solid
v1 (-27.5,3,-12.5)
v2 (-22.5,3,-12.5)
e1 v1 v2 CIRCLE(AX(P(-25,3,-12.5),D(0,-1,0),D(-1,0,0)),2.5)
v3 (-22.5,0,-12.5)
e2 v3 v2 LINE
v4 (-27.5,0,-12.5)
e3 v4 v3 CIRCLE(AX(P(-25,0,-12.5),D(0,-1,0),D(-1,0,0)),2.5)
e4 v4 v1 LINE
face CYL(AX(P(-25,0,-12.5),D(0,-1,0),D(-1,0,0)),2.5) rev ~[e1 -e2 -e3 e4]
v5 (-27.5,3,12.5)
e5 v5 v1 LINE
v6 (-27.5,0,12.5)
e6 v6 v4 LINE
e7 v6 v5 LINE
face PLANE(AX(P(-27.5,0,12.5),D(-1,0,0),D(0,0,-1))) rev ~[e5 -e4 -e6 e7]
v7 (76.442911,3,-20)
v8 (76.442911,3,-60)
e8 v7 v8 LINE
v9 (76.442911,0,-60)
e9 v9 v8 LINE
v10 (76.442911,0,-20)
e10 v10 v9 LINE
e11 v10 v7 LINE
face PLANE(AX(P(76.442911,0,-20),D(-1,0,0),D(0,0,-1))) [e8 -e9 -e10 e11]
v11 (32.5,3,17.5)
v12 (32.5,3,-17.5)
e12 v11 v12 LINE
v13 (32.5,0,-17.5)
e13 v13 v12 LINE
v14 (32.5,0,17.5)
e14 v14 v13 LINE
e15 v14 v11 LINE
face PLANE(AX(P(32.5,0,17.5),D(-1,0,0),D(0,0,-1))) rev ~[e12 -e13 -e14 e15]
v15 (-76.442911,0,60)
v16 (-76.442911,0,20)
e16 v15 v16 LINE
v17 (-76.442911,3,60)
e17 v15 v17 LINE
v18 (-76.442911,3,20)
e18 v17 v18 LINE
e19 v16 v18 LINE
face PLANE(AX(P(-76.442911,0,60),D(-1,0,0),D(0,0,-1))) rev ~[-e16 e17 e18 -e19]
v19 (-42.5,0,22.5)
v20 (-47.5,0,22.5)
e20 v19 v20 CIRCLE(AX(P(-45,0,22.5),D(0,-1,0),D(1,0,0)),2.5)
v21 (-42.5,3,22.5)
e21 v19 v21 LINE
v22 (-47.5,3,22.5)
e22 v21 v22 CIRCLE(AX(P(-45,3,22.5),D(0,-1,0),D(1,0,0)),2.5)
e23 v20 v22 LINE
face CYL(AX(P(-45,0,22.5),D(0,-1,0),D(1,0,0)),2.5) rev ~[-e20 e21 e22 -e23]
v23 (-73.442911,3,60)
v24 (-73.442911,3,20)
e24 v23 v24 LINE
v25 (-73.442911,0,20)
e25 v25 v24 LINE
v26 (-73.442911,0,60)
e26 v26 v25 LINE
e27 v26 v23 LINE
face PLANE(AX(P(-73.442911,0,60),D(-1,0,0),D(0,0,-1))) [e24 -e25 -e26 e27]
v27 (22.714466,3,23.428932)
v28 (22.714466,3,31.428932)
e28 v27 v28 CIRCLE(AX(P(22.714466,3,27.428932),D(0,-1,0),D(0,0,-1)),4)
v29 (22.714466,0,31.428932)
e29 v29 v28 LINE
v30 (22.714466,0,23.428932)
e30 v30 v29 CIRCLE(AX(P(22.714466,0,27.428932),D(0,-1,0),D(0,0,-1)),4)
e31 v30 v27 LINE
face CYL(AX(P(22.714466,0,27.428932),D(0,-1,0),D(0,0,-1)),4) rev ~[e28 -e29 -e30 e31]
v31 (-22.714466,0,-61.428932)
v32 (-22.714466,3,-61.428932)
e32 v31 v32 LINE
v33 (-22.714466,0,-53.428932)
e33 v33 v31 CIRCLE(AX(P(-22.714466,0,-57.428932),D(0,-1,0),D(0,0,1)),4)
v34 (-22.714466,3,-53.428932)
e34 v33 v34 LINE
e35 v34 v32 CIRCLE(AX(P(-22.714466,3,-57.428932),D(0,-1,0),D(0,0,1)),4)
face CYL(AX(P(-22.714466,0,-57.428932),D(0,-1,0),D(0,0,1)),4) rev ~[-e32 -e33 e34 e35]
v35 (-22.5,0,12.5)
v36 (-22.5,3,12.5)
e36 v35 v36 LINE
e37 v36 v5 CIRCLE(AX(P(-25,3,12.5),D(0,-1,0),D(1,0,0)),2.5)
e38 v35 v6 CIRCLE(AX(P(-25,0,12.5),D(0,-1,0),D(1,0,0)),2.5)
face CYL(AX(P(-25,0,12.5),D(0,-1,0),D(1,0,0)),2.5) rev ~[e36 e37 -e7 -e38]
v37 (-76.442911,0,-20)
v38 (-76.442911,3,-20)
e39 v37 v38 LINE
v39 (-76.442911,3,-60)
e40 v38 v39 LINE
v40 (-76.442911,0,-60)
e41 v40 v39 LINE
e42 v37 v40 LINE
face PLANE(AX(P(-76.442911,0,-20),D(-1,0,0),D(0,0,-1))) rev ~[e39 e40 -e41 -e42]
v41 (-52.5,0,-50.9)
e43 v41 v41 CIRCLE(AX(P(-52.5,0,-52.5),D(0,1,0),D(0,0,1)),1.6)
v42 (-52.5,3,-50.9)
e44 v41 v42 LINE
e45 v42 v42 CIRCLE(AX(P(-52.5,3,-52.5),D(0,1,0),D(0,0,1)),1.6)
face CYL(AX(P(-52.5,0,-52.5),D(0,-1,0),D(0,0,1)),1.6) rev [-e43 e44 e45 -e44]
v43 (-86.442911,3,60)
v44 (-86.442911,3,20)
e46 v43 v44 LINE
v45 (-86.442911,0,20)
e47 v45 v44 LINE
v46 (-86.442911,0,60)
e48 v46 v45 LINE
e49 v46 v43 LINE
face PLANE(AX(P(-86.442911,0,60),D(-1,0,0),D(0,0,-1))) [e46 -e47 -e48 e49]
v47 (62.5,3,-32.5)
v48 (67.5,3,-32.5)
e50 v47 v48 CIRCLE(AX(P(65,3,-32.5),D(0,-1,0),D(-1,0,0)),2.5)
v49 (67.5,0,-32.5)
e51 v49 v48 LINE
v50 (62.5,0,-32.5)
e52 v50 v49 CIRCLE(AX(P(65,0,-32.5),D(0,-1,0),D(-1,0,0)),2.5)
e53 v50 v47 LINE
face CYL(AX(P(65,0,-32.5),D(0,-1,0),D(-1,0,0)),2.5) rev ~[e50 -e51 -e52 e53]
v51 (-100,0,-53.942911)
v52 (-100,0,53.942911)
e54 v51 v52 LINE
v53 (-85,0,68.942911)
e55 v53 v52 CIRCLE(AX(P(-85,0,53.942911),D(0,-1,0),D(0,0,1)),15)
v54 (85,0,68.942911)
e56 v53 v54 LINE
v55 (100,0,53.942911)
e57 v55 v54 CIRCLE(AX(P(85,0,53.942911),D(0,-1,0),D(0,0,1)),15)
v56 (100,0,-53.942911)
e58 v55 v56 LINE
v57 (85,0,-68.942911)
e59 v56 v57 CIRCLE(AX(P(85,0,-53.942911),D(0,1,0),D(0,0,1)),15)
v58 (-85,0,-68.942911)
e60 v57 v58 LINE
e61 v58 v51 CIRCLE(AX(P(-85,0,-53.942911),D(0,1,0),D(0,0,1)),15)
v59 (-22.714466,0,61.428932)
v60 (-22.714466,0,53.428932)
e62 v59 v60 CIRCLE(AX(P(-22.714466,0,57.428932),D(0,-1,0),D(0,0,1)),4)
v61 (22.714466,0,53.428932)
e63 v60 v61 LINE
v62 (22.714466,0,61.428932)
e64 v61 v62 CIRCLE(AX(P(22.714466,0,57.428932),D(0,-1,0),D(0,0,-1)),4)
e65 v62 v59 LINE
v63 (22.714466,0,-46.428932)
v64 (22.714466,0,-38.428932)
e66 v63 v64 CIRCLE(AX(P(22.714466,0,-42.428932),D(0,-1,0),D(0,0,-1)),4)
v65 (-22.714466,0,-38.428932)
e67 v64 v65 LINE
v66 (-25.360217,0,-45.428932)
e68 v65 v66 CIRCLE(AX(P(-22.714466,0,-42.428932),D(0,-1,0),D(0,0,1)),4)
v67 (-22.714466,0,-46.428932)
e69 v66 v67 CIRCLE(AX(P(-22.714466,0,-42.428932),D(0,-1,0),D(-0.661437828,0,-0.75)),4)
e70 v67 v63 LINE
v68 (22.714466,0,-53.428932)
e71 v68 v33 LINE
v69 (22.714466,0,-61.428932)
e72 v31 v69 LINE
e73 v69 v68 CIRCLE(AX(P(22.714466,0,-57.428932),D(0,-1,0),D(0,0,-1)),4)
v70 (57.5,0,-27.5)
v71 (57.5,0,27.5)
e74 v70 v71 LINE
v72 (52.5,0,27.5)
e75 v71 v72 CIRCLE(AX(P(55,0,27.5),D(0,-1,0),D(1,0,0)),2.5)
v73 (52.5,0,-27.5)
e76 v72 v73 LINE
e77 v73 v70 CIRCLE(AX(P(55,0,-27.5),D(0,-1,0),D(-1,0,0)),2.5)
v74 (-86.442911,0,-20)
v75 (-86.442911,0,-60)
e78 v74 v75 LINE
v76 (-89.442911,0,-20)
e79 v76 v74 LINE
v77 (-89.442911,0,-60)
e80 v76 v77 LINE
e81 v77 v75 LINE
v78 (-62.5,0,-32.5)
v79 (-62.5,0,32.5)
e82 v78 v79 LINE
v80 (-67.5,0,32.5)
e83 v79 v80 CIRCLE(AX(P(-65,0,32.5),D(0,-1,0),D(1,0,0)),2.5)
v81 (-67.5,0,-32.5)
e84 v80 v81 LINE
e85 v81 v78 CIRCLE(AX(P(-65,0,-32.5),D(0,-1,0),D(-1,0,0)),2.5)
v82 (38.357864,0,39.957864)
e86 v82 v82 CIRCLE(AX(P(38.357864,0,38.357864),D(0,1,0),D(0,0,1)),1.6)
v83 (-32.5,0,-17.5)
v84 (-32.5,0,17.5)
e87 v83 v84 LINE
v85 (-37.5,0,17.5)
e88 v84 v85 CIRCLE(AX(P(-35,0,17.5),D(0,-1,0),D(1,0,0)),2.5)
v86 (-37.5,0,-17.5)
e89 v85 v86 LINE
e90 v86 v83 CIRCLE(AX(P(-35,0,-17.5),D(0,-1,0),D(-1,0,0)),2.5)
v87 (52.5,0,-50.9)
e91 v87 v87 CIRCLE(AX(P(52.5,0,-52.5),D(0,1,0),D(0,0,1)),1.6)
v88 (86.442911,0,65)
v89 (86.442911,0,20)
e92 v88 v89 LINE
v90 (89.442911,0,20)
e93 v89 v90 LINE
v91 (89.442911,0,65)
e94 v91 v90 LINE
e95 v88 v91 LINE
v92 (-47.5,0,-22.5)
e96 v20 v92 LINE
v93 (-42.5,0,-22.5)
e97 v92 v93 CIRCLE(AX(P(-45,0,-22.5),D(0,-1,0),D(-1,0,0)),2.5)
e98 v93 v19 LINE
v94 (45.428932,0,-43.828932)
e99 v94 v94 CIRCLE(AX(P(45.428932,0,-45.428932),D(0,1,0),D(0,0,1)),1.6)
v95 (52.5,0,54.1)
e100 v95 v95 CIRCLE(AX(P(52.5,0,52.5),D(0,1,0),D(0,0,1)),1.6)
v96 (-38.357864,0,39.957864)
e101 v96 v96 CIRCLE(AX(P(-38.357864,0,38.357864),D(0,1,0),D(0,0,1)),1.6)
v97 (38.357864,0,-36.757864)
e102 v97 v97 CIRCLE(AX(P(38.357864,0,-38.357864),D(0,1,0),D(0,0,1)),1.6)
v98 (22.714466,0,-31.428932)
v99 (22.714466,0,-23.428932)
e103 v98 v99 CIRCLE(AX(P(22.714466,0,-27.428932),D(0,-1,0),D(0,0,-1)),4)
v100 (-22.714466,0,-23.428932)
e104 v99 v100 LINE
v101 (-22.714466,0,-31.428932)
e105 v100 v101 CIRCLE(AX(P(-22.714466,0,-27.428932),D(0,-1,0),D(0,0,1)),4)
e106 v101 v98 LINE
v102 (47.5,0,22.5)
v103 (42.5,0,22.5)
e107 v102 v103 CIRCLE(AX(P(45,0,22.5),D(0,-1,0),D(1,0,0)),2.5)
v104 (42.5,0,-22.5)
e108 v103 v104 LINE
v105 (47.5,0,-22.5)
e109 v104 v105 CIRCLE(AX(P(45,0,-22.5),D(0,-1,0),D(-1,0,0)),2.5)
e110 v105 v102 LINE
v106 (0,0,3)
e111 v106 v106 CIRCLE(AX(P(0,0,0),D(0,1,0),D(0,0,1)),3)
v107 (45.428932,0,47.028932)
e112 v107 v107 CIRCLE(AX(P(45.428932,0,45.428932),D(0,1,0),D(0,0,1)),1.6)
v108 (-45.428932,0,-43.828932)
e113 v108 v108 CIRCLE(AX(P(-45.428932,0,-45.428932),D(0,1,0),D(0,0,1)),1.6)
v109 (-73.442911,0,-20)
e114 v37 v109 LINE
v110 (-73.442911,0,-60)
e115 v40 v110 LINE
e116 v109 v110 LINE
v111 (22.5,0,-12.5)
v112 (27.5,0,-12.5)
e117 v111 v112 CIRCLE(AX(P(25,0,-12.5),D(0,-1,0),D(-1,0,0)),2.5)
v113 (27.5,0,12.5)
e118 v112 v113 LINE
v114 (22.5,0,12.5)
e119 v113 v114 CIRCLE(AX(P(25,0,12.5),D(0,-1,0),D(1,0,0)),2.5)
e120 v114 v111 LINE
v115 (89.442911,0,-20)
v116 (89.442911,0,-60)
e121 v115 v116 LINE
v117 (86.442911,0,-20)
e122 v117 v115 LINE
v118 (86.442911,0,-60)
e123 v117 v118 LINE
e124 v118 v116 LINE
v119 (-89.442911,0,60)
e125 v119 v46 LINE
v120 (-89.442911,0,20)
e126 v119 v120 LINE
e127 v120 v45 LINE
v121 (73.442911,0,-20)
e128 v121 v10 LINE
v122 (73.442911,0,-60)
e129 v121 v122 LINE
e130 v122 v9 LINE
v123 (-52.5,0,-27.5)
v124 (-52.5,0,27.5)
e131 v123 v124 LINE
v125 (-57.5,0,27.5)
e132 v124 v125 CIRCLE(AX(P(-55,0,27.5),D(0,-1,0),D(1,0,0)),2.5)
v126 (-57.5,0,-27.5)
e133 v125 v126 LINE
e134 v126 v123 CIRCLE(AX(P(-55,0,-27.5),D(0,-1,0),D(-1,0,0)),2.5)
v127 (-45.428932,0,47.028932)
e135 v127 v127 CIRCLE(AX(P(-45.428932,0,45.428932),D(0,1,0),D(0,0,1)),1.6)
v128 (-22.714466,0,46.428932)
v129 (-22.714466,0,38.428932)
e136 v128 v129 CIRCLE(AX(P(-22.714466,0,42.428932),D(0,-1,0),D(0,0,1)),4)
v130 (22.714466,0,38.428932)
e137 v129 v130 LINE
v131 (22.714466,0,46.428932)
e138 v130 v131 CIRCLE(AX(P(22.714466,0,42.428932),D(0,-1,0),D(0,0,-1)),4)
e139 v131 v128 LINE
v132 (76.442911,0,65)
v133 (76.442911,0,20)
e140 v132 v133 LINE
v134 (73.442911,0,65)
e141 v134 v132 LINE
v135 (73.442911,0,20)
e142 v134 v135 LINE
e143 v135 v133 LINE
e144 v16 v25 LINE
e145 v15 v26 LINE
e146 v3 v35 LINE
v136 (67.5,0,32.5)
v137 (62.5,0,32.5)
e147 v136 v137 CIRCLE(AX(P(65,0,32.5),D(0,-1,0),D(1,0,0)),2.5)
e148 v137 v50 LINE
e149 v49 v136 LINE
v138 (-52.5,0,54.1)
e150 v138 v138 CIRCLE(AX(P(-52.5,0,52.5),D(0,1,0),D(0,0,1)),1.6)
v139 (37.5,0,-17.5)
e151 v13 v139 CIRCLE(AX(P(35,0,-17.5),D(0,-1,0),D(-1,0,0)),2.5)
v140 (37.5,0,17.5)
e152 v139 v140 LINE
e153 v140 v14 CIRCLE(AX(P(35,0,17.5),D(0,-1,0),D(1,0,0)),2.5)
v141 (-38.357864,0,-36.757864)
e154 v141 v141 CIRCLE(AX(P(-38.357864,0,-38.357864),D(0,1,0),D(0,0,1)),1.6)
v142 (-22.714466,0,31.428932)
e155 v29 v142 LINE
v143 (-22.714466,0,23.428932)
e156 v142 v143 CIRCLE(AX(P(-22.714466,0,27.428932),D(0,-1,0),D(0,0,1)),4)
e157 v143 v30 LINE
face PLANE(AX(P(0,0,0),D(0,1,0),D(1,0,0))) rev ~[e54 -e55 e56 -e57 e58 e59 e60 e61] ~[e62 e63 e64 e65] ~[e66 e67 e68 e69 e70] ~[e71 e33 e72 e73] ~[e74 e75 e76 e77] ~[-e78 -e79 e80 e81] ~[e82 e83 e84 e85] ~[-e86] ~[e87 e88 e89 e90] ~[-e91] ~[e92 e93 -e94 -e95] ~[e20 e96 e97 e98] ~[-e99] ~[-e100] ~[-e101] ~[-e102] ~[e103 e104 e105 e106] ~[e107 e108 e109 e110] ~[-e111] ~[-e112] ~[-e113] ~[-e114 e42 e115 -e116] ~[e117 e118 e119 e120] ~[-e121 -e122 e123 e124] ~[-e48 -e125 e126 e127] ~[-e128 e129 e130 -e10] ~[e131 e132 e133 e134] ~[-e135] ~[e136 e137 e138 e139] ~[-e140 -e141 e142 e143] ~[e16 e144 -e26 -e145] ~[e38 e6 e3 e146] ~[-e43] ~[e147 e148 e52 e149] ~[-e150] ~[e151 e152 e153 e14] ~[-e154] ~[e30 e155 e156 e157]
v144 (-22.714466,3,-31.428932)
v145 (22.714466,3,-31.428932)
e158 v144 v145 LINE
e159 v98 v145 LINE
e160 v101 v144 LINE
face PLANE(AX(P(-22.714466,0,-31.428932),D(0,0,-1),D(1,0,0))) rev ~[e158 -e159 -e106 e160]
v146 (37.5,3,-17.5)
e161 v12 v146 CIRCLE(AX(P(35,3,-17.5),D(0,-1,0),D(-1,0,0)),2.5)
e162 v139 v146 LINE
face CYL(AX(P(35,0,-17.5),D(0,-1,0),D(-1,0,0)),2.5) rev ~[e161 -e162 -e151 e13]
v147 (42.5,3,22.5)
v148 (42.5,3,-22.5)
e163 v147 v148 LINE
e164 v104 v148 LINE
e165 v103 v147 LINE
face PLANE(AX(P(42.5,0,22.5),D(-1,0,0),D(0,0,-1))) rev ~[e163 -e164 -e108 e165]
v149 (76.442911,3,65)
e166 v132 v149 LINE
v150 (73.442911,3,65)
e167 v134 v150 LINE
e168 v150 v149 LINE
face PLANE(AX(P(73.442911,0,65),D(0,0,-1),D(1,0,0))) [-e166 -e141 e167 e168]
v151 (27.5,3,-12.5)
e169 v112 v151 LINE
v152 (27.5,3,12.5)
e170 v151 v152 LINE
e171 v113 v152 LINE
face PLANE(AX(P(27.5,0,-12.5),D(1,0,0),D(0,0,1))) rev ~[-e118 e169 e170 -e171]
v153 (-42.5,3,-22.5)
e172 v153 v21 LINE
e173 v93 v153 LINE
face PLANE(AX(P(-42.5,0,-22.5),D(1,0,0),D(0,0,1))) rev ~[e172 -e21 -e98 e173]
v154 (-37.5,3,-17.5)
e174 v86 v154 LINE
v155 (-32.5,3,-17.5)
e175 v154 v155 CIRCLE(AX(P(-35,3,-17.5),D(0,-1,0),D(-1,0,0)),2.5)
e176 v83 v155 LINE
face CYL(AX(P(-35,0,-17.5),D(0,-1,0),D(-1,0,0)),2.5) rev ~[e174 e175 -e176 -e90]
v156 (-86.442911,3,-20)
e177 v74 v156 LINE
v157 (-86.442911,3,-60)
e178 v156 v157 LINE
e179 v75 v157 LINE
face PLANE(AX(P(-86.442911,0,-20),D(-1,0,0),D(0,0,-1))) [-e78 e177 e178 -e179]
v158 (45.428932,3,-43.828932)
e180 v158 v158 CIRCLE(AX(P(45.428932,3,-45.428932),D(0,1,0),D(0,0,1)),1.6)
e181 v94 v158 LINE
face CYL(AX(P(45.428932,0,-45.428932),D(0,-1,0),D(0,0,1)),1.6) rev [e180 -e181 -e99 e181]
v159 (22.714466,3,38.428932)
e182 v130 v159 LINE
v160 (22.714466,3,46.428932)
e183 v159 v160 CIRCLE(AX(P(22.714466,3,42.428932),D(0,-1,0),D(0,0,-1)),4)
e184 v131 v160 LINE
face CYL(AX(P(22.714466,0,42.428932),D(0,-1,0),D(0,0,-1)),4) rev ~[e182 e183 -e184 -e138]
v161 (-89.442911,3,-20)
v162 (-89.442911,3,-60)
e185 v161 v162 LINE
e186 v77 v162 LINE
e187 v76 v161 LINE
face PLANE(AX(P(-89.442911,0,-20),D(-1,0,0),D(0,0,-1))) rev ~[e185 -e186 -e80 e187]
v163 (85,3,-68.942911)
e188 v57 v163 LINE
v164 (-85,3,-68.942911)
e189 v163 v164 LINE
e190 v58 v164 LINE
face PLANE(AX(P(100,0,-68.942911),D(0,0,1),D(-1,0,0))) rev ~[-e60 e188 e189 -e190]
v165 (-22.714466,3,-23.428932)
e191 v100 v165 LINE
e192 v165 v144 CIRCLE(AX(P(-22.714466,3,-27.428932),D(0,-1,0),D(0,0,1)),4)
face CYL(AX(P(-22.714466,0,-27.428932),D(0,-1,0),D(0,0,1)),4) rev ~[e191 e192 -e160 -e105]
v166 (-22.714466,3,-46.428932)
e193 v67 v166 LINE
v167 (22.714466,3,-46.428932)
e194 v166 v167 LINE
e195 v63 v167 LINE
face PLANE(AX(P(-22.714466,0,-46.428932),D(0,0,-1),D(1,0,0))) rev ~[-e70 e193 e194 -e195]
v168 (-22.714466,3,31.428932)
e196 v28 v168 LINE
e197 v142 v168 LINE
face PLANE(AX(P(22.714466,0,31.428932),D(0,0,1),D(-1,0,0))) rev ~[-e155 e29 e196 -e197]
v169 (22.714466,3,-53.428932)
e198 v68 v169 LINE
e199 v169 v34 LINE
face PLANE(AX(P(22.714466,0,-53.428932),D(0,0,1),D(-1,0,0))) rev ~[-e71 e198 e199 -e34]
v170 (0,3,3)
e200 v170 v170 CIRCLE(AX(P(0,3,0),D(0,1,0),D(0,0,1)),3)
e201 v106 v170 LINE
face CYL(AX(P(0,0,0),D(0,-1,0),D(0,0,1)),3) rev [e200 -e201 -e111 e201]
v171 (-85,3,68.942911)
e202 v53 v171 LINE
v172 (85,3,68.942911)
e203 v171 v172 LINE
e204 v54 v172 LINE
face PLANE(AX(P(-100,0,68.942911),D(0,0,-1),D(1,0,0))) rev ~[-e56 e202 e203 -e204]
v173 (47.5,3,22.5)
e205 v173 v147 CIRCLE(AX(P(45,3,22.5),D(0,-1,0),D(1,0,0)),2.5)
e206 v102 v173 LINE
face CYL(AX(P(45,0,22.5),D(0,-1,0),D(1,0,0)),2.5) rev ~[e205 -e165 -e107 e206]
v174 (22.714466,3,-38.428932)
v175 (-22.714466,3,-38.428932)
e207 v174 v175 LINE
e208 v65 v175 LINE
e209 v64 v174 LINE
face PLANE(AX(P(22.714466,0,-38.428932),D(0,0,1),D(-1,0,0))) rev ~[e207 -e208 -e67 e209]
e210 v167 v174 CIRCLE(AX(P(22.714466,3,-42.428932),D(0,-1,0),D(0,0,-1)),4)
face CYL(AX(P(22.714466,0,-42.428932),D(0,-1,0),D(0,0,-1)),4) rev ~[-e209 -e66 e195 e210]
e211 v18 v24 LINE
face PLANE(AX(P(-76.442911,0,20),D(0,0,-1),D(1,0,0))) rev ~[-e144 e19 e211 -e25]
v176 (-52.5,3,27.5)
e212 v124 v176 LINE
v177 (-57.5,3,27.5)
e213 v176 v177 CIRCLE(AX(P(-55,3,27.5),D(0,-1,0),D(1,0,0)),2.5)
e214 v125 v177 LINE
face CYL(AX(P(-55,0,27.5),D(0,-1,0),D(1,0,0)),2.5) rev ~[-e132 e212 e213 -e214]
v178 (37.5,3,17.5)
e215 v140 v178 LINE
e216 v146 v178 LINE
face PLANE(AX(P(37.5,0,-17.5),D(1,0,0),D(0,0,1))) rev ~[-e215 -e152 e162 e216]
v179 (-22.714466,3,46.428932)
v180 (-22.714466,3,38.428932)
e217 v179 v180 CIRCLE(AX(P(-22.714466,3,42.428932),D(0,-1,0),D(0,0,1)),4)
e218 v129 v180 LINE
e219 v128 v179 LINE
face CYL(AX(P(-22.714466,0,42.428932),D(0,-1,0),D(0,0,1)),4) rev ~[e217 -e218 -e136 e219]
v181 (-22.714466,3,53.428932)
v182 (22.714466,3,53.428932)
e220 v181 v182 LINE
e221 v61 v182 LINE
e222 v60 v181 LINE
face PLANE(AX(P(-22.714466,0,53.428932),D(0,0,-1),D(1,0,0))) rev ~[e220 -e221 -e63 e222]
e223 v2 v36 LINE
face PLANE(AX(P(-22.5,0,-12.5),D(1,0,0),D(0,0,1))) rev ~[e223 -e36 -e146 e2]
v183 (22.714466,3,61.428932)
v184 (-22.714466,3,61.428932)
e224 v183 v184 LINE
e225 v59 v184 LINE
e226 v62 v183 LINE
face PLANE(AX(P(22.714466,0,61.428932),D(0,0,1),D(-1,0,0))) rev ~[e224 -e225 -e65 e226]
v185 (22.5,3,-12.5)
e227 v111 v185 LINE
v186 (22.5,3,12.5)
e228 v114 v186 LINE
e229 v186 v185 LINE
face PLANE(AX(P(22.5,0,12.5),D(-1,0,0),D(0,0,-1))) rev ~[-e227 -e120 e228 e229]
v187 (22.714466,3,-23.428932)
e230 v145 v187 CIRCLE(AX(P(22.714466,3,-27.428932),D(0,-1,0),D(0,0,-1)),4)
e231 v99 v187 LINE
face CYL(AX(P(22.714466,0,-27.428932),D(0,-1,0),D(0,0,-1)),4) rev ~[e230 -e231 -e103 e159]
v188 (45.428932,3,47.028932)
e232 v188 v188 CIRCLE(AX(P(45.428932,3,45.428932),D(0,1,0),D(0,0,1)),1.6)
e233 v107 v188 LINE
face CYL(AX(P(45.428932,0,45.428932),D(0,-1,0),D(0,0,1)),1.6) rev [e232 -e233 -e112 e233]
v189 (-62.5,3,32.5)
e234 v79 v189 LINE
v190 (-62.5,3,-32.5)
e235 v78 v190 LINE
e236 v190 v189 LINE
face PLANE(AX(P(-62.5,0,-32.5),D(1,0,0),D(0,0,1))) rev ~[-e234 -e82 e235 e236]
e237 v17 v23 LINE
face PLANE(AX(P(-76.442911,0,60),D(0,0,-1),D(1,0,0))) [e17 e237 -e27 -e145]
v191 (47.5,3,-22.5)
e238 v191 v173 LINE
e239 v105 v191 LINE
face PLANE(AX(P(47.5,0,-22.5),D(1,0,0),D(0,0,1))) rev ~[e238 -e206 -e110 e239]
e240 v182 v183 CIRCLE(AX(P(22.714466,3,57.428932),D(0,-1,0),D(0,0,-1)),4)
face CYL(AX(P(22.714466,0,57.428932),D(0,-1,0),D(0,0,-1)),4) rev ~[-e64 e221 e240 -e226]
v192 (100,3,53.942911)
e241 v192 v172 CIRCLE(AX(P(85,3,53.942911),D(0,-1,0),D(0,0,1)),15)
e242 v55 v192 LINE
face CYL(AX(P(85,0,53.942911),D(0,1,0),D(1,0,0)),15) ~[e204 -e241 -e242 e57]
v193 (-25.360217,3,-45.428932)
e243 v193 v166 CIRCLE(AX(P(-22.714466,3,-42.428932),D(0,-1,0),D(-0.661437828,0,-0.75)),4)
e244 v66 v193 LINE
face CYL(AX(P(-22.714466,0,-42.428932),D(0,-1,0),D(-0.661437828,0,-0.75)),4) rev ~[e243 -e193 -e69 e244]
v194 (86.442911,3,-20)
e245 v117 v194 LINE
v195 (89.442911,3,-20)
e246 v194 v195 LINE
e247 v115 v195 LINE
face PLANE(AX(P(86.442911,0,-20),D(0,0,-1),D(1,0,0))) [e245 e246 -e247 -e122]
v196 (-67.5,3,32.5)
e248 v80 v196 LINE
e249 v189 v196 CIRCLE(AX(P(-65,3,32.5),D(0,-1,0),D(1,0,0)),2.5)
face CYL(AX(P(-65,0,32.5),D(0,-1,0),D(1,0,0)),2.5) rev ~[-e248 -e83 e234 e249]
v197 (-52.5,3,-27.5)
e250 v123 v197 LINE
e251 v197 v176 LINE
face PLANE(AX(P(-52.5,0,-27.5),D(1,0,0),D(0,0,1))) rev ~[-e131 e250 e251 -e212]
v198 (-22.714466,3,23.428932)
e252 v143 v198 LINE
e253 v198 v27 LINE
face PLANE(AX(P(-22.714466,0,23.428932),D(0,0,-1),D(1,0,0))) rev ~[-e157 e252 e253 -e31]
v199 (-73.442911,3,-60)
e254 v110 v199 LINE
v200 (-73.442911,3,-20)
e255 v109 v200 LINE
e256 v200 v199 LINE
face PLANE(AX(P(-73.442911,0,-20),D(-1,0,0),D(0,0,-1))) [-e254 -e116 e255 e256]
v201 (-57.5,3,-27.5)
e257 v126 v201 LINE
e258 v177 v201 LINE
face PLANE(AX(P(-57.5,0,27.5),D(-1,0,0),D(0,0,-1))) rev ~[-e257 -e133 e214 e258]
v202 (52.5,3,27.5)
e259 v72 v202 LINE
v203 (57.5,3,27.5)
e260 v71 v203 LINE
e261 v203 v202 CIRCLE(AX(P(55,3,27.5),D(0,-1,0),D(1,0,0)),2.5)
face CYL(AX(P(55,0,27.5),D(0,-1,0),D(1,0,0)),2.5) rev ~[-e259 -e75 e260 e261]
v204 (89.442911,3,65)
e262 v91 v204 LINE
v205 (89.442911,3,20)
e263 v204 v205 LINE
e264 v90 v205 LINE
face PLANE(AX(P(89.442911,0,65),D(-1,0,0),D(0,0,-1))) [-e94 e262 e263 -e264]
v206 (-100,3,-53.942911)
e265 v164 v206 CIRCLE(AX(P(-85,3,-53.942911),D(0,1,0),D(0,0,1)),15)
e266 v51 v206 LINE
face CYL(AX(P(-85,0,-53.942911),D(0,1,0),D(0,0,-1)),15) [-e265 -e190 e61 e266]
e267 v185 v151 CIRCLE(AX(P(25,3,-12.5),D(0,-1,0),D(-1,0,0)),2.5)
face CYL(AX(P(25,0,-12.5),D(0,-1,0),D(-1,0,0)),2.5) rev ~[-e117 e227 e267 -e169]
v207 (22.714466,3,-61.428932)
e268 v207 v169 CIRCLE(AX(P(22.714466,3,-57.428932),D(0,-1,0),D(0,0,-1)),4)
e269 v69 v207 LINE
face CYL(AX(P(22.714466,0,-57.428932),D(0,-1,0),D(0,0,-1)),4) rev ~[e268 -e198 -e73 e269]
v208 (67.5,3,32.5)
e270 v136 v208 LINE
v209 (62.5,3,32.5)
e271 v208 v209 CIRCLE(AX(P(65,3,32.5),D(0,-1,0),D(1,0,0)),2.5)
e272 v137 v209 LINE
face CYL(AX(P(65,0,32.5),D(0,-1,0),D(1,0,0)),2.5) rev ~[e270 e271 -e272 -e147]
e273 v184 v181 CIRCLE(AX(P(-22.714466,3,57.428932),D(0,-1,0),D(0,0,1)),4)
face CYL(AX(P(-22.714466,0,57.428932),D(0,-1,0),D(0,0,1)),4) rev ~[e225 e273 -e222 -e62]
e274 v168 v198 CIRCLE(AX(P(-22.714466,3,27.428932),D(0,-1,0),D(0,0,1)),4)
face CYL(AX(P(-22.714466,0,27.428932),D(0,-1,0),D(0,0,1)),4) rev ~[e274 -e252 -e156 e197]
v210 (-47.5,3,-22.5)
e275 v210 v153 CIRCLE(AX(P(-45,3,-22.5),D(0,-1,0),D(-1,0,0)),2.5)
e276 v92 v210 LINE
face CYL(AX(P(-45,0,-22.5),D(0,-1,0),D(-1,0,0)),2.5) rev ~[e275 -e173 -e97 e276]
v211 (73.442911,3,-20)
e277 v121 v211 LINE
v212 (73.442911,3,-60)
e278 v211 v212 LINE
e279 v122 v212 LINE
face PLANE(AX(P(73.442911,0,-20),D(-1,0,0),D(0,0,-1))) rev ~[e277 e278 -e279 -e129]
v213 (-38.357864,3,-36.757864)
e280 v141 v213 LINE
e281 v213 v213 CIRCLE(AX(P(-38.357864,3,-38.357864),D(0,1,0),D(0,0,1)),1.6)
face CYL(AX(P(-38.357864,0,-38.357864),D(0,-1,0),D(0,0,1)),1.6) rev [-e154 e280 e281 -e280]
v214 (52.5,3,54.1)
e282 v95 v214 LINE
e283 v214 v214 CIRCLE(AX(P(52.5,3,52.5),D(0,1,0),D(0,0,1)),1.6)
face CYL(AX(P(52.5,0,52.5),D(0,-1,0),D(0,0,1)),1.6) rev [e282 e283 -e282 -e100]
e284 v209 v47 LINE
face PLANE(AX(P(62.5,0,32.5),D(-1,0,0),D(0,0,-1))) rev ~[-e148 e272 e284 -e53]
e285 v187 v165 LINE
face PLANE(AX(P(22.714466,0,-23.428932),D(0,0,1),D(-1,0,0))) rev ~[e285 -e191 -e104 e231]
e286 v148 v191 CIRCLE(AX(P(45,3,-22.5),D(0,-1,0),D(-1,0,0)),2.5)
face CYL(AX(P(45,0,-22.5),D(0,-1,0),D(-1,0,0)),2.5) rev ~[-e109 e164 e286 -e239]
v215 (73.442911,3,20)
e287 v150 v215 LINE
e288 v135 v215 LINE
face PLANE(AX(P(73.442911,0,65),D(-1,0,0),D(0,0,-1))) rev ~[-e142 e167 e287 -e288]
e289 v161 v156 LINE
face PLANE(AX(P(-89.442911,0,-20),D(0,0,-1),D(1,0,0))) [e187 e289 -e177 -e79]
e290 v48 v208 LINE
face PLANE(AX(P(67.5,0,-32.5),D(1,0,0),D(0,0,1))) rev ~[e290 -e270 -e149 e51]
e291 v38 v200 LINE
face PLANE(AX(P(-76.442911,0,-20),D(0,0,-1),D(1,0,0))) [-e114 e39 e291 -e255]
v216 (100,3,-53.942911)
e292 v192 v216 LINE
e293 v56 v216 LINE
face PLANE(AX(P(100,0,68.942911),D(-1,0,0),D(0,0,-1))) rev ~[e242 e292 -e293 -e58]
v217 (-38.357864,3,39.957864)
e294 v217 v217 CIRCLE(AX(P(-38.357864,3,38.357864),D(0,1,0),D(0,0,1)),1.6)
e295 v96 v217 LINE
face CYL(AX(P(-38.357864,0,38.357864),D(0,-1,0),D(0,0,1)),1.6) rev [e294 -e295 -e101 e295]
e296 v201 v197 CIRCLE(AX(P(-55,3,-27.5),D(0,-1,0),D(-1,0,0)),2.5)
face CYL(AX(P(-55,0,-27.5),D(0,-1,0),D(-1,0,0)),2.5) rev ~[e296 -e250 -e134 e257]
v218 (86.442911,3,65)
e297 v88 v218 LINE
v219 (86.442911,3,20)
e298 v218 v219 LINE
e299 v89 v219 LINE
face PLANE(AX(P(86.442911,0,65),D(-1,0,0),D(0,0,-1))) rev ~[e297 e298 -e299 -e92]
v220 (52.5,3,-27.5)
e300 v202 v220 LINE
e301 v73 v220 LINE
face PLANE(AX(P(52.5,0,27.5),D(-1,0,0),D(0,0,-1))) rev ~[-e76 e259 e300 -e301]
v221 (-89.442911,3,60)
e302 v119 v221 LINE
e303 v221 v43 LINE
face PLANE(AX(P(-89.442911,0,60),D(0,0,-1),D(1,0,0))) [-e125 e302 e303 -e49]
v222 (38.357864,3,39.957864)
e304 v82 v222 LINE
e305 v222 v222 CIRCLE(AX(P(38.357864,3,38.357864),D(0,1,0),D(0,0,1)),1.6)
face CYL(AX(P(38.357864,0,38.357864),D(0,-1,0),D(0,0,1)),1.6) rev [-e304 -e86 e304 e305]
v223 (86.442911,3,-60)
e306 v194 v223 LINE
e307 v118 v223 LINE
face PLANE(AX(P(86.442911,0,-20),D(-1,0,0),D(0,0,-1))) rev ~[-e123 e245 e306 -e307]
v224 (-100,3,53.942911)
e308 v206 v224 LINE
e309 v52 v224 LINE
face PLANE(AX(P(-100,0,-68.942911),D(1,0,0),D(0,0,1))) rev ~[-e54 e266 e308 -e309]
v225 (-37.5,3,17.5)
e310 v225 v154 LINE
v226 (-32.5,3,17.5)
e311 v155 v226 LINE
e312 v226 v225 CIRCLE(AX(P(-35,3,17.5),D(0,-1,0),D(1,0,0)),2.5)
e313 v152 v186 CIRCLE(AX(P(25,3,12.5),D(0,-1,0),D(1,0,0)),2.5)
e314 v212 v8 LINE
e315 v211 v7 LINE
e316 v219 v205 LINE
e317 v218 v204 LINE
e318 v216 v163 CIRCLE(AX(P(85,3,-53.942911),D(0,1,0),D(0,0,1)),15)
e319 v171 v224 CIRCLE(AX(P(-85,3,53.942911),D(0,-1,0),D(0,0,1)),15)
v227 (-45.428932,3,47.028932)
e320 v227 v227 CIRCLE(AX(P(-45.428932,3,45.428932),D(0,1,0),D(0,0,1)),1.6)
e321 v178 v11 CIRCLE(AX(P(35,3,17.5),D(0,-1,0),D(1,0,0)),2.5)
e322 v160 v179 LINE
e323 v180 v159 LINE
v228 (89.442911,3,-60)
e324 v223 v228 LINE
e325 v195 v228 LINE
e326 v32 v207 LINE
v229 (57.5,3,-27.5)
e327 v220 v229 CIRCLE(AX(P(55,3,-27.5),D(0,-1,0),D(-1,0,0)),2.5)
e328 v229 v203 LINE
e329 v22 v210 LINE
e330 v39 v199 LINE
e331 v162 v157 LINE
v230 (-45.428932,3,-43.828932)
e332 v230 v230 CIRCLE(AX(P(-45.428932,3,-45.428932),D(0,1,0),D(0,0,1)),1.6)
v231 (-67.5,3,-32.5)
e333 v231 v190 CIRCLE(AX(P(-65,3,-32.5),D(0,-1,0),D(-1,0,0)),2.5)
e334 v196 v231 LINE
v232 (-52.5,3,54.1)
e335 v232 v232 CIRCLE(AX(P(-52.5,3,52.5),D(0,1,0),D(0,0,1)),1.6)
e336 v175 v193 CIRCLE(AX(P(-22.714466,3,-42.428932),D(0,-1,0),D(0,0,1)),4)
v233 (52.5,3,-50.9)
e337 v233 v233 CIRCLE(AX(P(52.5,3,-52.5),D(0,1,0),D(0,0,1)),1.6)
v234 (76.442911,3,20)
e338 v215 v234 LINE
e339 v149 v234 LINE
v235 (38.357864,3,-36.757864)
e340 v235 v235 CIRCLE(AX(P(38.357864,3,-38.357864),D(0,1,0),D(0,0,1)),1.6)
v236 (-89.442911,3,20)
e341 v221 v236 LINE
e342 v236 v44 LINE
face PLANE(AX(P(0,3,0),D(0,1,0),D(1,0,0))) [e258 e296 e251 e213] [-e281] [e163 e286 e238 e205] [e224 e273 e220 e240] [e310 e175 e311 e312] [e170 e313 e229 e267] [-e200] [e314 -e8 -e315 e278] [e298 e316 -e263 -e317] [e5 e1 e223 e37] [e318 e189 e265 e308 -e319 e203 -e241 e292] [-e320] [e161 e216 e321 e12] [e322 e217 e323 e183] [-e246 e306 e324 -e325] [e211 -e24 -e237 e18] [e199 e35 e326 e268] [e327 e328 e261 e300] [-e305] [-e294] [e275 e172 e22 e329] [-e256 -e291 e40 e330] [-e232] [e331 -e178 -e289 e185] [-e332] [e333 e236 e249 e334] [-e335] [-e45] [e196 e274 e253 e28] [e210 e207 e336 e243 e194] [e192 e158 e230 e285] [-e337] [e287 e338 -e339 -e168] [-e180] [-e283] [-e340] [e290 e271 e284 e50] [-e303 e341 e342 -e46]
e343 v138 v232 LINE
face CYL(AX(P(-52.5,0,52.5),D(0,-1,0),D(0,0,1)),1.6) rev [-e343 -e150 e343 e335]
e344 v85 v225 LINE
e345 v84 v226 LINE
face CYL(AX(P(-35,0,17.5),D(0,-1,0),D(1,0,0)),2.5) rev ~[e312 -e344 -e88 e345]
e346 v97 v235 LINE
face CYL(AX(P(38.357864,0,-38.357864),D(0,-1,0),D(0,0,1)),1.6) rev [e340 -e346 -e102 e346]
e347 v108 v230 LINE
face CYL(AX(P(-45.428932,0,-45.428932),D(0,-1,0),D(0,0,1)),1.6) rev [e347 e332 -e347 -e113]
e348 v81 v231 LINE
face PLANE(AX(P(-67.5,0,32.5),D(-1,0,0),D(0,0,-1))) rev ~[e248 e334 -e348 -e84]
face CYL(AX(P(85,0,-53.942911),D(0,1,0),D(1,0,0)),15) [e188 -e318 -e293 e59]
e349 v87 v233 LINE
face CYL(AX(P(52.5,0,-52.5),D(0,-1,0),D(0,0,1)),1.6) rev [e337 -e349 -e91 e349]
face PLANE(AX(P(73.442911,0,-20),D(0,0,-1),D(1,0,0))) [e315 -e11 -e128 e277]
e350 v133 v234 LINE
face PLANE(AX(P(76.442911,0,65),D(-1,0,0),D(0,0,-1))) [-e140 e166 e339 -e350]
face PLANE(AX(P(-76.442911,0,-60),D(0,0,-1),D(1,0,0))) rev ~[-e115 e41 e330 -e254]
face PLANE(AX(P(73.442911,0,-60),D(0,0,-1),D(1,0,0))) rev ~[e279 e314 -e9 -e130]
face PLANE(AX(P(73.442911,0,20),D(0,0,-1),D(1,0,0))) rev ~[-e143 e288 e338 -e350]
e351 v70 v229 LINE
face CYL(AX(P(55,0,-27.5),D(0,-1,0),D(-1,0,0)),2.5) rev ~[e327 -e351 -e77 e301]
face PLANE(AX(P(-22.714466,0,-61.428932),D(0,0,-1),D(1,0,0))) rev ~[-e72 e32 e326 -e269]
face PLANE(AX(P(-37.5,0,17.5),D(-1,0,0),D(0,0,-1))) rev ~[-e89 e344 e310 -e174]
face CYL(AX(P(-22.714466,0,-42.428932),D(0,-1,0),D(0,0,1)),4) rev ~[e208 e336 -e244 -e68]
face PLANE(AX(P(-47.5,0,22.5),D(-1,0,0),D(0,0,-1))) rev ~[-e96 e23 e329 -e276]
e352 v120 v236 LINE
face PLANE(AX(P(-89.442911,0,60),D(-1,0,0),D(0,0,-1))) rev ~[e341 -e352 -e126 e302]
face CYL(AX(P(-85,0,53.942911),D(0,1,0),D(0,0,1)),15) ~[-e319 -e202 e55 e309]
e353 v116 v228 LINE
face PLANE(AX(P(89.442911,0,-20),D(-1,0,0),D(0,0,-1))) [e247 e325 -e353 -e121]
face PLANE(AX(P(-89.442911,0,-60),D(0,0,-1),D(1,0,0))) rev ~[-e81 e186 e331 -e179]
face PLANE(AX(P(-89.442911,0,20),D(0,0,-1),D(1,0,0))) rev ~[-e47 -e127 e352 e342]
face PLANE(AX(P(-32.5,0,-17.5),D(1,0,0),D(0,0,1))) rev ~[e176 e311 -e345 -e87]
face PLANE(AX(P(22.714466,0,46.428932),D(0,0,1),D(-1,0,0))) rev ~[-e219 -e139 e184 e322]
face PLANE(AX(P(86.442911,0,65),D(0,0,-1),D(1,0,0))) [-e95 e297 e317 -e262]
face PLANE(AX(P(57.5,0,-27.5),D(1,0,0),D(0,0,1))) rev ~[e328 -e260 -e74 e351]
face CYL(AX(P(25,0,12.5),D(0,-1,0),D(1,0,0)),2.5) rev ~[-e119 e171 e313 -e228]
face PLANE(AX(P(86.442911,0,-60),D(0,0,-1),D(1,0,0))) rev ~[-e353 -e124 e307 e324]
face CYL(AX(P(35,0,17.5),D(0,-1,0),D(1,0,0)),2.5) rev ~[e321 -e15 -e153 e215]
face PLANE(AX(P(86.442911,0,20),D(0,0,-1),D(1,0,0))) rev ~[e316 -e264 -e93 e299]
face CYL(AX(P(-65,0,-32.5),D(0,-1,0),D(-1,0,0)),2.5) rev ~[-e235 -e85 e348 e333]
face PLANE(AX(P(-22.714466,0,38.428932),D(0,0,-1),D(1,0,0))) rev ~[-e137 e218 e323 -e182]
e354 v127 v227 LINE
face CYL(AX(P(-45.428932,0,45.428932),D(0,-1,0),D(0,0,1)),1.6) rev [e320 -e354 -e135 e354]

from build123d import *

# Parameters (mm, degrees)
SKETCH_2_R      = 1.6
SKETCH_2_W      = 3
SKETCH_2_H      = 40
SKETCH_2_H_2    = 45
SKETCH_2_R_2    = 3
EXTRUDE_1_DEPTH = 3
FILLET_1_R      = 15


with BuildPart() as part:
    # 草图2 → 凸台-拉伸1 (new body)
    with BuildSketch(Plane(origin=(0, 0, 0), x_dir=(1, 0, 0), z_dir=(0, 1, 0))):
        Polygon((100, -68.942911166), (100, 68.942911166), (-100, 68.942911166), (-100, -68.942911166), (0, -68.942911166), align=None)
        with Locations(Location((-52.5, -52.5, 0), (0, 0, 270))):
            Circle(SKETCH_2_R, mode=Mode.SUBTRACT)
        with Locations((-87.942911166, -40)):
            Rectangle(SKETCH_2_W, SKETCH_2_H, mode=Mode.SUBTRACT)
        with Locations((-74.942911166, -40)):
            Rectangle(SKETCH_2_W, SKETCH_2_H, mode=Mode.SUBTRACT)
        with Locations(Location((-45.428932188, -45.428932188, 0), (0, 0, 270))):
            Circle(SKETCH_2_R, mode=Mode.SUBTRACT)
        with Locations(Location((-38.357864376, -38.357864376, 0), (0, 0, 270))):
            Circle(SKETCH_2_R, mode=Mode.SUBTRACT)
        with BuildLine():
            ThreePointArc((22.714466094, -53.428932188), (26.714466094, -57.428932188), (22.714466094, -61.428932188))
            Line((22.714466094, -61.428932188), (-22.714466094, -61.428932188))
            ThreePointArc((-22.714466094, -61.428932188), (-26.714466094, -57.428932188), (-22.714466094, -53.428932188))
            Line((-22.714466094, -53.428932188), (22.714466094, -53.428932188))
        make_face(mode=Mode.SUBTRACT)
        with BuildLine():
            Line((22.714466094, -46.428932188), (-22.714466094, -46.428932188))
            ThreePointArc((-22.714466094, -46.428932188), (-26.714466094, -42.428932188), (-22.714466094, -38.428932188))
            Line((-22.714466094, -38.428932188), (22.714466094, -38.428932188))
            ThreePointArc((22.714466094, -38.428932188), (26.714466094, -42.428932188), (22.714466094, -46.428932188))
        make_face(mode=Mode.SUBTRACT)
        with Locations(Location((38.357864376, -38.357864376, 0), (0, 0, 270))):
            Circle(SKETCH_2_R, mode=Mode.SUBTRACT)
        with Locations(Location((52.5, -52.5, 0), (0, 0, 270))):
            Circle(SKETCH_2_R, mode=Mode.SUBTRACT)
        with Locations(Location((45.428932188, -45.428932188, 0), (0, 0, 270))):
            Circle(SKETCH_2_R, mode=Mode.SUBTRACT)
        with Locations((74.942911166, -42.5)):
            Rectangle(SKETCH_2_W, SKETCH_2_H_2, mode=Mode.SUBTRACT)
        with Locations((87.942911166, -42.5)):
            Rectangle(SKETCH_2_W, SKETCH_2_H_2, mode=Mode.SUBTRACT)
        with BuildLine():
            Line((22.714466094, -31.428932188), (-22.714466094, -31.428932188))
            ThreePointArc((-22.714466094, -31.428932188), (-26.714466094, -27.428932188), (-22.714466094, -23.428932188))
            Line((-22.714466094, -23.428932188), (22.714466094, -23.428932188))
            ThreePointArc((22.714466094, -23.428932188), (26.714466094, -27.428932188), (22.714466094, -31.428932188))
        make_face(mode=Mode.SUBTRACT)
        with BuildLine():
            ThreePointArc((-62.5, -32.5), (-65, -35), (-67.5, -32.5))
            Line((-67.5, -32.5), (-67.5, 32.5))
            ThreePointArc((-67.5, 32.5), (-65, 35), (-62.5, 32.5))
            Line((-62.5, 32.5), (-62.5, -32.5))
        make_face(mode=Mode.SUBTRACT)
        with BuildLine():
            ThreePointArc((-57.5, 27.5), (-55, 30), (-52.5, 27.5))
            Line((-52.5, 27.5), (-52.5, -27.5))
            ThreePointArc((-52.5, -27.5), (-55, -30), (-57.5, -27.5))
            Line((-57.5, -27.5), (-57.5, 27.5))
        make_face(mode=Mode.SUBTRACT)
        with BuildLine():
            Line((-47.5, -22.5), (-47.5, 22.5))
            ThreePointArc((-47.5, 22.5), (-45, 25), (-42.5, 22.5))
            Line((-42.5, 22.5), (-42.5, -22.5))
            ThreePointArc((-42.5, -22.5), (-45, -25), (-47.5, -22.5))
        make_face(mode=Mode.SUBTRACT)
        with BuildLine():
            Line((-37.5, -17.5), (-37.5, 17.5))
            ThreePointArc((-37.5, 17.5), (-35, 20), (-32.5, 17.5))
            Line((-32.5, 17.5), (-32.5, -17.5))
            ThreePointArc((-32.5, -17.5), (-35, -20), (-37.5, -17.5))
        make_face(mode=Mode.SUBTRACT)
        with BuildLine():
            Line((-27.5, -12.5), (-27.5, 12.5))
            ThreePointArc((-27.5, 12.5), (-25, 15), (-22.5, 12.5))
            Line((-22.5, 12.5), (-22.5, -12.5))
            ThreePointArc((-22.5, -12.5), (-25, -15), (-27.5, -12.5))
        make_face(mode=Mode.SUBTRACT)
        with Locations(Location((0, 0, 0), (0, 0, 270))):
            Circle(SKETCH_2_R_2, mode=Mode.SUBTRACT)
        with BuildLine():
            Line((22.714466094, 23.428932188), (-22.714466094, 23.428932188))
            ThreePointArc((-22.714466094, 23.428932188), (-26.714466094, 27.428932188), (-22.714466094, 31.428932188))
            Line((-22.714466094, 31.428932188), (22.714466094, 31.428932188))
            ThreePointArc((22.714466094, 31.428932188), (26.714466094, 27.428932188), (22.714466094, 23.428932188))
        make_face(mode=Mode.SUBTRACT)
        with Locations((-87.942911166, 40)):
            Rectangle(SKETCH_2_W, SKETCH_2_H, mode=Mode.SUBTRACT)
        with Locations((-74.942911166, 40)):
            Rectangle(SKETCH_2_W, SKETCH_2_H, mode=Mode.SUBTRACT)
        with Locations(Location((-45.428932188, 45.428932188, 0), (0, 0, 270))):
            Circle(SKETCH_2_R, mode=Mode.SUBTRACT)
        with Locations(Location((-52.5, 52.5, 0), (0, 0, 270))):
            Circle(SKETCH_2_R, mode=Mode.SUBTRACT)
        with Locations(Location((-38.357864376, 38.357864376, 0), (0, 0, 270))):
            Circle(SKETCH_2_R, mode=Mode.SUBTRACT)
        with BuildLine():
            ThreePointArc((-22.714466094, 38.428932188), (-26.456123481, 41.014718626), (-25.360217405, 45.428932188))
            ThreePointArc((-25.360217405, 45.428932188), (-24.128679656, 46.170589575), (-22.714466094, 46.428932188))
            Line((-22.714466094, 46.428932188), (22.714466094, 46.428932188))
            ThreePointArc((22.714466094, 46.428932188), (26.714466094, 42.428932188), (22.714466094, 38.428932188))
            Line((22.714466094, 38.428932188), (-22.714466094, 38.428932188))
        make_face(mode=Mode.SUBTRACT)
        with BuildLine():
            ThreePointArc((22.714466094, 61.428932188), (26.714466094, 57.428932188), (22.714466094, 53.428932188))
            Line((22.714466094, 53.428932188), (-22.714466094, 53.428932188))
            ThreePointArc((-22.714466094, 53.428932188), (-26.714466094, 57.428932188), (-22.714466094, 61.428932188))
            Line((-22.714466094, 61.428932188), (22.714466094, 61.428932188))
        make_face(mode=Mode.SUBTRACT)
        with BuildLine():
            Line((22.5, -12.5), (22.5, 12.5))
            ThreePointArc((22.5, 12.5), (25, 15), (27.5, 12.5))
            Line((27.5, 12.5), (27.5, -12.5))
            ThreePointArc((27.5, -12.5), (25, -15), (22.5, -12.5))
        make_face(mode=Mode.SUBTRACT)
        with BuildLine():
            Line((32.5, -17.5), (32.5, 17.5))
            ThreePointArc((32.5, 17.5), (35, 20), (37.5, 17.5))
            Line((37.5, 17.5), (37.5, -17.5))
            ThreePointArc((37.5, -17.5), (35, -20), (32.5, -17.5))
        make_face(mode=Mode.SUBTRACT)
        with BuildLine():
            Line((42.5, -22.5), (42.5, 22.5))
            ThreePointArc((42.5, 22.5), (45, 25), (47.5, 22.5))
            Line((47.5, 22.5), (47.5, -22.5))
            ThreePointArc((47.5, -22.5), (45, -25), (42.5, -22.5))
        make_face(mode=Mode.SUBTRACT)
        with BuildLine():
            Line((52.5, -27.5), (52.5, 27.5))
            ThreePointArc((52.5, 27.5), (55, 30), (57.5, 27.5))
            Line((57.5, 27.5), (57.5, -27.5))
            ThreePointArc((57.5, -27.5), (55, -30), (52.5, -27.5))
        make_face(mode=Mode.SUBTRACT)
        with BuildLine():
            Line((62.5, -32.5), (62.5, 32.5))
            ThreePointArc((62.5, 32.5), (65, 35), (67.5, 32.5))
            Line((67.5, 32.5), (67.5, -32.5))
            ThreePointArc((67.5, -32.5), (65, -35), (62.5, -32.5))
        make_face(mode=Mode.SUBTRACT)
        with Locations(Location((38.357864376, 38.357864376, 0), (0, 0, 270))):
            Circle(SKETCH_2_R, mode=Mode.SUBTRACT)
        with Locations(Location((45.428932188, 45.428932188, 0), (0, 0, 270))):
            Circle(SKETCH_2_R, mode=Mode.SUBTRACT)
        with Locations((74.942911166, 40)):
            Rectangle(SKETCH_2_W, SKETCH_2_H, mode=Mode.SUBTRACT)
        with Locations((87.942911166, 40)):
            Rectangle(SKETCH_2_W, SKETCH_2_H, mode=Mode.SUBTRACT)
        with Locations(Location((52.5, 52.5, 0), (0, 0, 270))):
            Circle(SKETCH_2_R, mode=Mode.SUBTRACT)
    extrude(amount=EXTRUDE_1_DEPTH)

    # 圆角1
    fillet_1_edges = [part.edges().sort_by_distance(p)[0] for p in [
        (-100, 1.5, -68.942911166),
        (100, 1.5, -68.942911166),
        (100, 1.5, 68.942911166),
        (-100, 1.5, 68.942911166),
    ]]
    fillet(fillet_1_edges, radius=FILLET_1_R)


solid = part.part
